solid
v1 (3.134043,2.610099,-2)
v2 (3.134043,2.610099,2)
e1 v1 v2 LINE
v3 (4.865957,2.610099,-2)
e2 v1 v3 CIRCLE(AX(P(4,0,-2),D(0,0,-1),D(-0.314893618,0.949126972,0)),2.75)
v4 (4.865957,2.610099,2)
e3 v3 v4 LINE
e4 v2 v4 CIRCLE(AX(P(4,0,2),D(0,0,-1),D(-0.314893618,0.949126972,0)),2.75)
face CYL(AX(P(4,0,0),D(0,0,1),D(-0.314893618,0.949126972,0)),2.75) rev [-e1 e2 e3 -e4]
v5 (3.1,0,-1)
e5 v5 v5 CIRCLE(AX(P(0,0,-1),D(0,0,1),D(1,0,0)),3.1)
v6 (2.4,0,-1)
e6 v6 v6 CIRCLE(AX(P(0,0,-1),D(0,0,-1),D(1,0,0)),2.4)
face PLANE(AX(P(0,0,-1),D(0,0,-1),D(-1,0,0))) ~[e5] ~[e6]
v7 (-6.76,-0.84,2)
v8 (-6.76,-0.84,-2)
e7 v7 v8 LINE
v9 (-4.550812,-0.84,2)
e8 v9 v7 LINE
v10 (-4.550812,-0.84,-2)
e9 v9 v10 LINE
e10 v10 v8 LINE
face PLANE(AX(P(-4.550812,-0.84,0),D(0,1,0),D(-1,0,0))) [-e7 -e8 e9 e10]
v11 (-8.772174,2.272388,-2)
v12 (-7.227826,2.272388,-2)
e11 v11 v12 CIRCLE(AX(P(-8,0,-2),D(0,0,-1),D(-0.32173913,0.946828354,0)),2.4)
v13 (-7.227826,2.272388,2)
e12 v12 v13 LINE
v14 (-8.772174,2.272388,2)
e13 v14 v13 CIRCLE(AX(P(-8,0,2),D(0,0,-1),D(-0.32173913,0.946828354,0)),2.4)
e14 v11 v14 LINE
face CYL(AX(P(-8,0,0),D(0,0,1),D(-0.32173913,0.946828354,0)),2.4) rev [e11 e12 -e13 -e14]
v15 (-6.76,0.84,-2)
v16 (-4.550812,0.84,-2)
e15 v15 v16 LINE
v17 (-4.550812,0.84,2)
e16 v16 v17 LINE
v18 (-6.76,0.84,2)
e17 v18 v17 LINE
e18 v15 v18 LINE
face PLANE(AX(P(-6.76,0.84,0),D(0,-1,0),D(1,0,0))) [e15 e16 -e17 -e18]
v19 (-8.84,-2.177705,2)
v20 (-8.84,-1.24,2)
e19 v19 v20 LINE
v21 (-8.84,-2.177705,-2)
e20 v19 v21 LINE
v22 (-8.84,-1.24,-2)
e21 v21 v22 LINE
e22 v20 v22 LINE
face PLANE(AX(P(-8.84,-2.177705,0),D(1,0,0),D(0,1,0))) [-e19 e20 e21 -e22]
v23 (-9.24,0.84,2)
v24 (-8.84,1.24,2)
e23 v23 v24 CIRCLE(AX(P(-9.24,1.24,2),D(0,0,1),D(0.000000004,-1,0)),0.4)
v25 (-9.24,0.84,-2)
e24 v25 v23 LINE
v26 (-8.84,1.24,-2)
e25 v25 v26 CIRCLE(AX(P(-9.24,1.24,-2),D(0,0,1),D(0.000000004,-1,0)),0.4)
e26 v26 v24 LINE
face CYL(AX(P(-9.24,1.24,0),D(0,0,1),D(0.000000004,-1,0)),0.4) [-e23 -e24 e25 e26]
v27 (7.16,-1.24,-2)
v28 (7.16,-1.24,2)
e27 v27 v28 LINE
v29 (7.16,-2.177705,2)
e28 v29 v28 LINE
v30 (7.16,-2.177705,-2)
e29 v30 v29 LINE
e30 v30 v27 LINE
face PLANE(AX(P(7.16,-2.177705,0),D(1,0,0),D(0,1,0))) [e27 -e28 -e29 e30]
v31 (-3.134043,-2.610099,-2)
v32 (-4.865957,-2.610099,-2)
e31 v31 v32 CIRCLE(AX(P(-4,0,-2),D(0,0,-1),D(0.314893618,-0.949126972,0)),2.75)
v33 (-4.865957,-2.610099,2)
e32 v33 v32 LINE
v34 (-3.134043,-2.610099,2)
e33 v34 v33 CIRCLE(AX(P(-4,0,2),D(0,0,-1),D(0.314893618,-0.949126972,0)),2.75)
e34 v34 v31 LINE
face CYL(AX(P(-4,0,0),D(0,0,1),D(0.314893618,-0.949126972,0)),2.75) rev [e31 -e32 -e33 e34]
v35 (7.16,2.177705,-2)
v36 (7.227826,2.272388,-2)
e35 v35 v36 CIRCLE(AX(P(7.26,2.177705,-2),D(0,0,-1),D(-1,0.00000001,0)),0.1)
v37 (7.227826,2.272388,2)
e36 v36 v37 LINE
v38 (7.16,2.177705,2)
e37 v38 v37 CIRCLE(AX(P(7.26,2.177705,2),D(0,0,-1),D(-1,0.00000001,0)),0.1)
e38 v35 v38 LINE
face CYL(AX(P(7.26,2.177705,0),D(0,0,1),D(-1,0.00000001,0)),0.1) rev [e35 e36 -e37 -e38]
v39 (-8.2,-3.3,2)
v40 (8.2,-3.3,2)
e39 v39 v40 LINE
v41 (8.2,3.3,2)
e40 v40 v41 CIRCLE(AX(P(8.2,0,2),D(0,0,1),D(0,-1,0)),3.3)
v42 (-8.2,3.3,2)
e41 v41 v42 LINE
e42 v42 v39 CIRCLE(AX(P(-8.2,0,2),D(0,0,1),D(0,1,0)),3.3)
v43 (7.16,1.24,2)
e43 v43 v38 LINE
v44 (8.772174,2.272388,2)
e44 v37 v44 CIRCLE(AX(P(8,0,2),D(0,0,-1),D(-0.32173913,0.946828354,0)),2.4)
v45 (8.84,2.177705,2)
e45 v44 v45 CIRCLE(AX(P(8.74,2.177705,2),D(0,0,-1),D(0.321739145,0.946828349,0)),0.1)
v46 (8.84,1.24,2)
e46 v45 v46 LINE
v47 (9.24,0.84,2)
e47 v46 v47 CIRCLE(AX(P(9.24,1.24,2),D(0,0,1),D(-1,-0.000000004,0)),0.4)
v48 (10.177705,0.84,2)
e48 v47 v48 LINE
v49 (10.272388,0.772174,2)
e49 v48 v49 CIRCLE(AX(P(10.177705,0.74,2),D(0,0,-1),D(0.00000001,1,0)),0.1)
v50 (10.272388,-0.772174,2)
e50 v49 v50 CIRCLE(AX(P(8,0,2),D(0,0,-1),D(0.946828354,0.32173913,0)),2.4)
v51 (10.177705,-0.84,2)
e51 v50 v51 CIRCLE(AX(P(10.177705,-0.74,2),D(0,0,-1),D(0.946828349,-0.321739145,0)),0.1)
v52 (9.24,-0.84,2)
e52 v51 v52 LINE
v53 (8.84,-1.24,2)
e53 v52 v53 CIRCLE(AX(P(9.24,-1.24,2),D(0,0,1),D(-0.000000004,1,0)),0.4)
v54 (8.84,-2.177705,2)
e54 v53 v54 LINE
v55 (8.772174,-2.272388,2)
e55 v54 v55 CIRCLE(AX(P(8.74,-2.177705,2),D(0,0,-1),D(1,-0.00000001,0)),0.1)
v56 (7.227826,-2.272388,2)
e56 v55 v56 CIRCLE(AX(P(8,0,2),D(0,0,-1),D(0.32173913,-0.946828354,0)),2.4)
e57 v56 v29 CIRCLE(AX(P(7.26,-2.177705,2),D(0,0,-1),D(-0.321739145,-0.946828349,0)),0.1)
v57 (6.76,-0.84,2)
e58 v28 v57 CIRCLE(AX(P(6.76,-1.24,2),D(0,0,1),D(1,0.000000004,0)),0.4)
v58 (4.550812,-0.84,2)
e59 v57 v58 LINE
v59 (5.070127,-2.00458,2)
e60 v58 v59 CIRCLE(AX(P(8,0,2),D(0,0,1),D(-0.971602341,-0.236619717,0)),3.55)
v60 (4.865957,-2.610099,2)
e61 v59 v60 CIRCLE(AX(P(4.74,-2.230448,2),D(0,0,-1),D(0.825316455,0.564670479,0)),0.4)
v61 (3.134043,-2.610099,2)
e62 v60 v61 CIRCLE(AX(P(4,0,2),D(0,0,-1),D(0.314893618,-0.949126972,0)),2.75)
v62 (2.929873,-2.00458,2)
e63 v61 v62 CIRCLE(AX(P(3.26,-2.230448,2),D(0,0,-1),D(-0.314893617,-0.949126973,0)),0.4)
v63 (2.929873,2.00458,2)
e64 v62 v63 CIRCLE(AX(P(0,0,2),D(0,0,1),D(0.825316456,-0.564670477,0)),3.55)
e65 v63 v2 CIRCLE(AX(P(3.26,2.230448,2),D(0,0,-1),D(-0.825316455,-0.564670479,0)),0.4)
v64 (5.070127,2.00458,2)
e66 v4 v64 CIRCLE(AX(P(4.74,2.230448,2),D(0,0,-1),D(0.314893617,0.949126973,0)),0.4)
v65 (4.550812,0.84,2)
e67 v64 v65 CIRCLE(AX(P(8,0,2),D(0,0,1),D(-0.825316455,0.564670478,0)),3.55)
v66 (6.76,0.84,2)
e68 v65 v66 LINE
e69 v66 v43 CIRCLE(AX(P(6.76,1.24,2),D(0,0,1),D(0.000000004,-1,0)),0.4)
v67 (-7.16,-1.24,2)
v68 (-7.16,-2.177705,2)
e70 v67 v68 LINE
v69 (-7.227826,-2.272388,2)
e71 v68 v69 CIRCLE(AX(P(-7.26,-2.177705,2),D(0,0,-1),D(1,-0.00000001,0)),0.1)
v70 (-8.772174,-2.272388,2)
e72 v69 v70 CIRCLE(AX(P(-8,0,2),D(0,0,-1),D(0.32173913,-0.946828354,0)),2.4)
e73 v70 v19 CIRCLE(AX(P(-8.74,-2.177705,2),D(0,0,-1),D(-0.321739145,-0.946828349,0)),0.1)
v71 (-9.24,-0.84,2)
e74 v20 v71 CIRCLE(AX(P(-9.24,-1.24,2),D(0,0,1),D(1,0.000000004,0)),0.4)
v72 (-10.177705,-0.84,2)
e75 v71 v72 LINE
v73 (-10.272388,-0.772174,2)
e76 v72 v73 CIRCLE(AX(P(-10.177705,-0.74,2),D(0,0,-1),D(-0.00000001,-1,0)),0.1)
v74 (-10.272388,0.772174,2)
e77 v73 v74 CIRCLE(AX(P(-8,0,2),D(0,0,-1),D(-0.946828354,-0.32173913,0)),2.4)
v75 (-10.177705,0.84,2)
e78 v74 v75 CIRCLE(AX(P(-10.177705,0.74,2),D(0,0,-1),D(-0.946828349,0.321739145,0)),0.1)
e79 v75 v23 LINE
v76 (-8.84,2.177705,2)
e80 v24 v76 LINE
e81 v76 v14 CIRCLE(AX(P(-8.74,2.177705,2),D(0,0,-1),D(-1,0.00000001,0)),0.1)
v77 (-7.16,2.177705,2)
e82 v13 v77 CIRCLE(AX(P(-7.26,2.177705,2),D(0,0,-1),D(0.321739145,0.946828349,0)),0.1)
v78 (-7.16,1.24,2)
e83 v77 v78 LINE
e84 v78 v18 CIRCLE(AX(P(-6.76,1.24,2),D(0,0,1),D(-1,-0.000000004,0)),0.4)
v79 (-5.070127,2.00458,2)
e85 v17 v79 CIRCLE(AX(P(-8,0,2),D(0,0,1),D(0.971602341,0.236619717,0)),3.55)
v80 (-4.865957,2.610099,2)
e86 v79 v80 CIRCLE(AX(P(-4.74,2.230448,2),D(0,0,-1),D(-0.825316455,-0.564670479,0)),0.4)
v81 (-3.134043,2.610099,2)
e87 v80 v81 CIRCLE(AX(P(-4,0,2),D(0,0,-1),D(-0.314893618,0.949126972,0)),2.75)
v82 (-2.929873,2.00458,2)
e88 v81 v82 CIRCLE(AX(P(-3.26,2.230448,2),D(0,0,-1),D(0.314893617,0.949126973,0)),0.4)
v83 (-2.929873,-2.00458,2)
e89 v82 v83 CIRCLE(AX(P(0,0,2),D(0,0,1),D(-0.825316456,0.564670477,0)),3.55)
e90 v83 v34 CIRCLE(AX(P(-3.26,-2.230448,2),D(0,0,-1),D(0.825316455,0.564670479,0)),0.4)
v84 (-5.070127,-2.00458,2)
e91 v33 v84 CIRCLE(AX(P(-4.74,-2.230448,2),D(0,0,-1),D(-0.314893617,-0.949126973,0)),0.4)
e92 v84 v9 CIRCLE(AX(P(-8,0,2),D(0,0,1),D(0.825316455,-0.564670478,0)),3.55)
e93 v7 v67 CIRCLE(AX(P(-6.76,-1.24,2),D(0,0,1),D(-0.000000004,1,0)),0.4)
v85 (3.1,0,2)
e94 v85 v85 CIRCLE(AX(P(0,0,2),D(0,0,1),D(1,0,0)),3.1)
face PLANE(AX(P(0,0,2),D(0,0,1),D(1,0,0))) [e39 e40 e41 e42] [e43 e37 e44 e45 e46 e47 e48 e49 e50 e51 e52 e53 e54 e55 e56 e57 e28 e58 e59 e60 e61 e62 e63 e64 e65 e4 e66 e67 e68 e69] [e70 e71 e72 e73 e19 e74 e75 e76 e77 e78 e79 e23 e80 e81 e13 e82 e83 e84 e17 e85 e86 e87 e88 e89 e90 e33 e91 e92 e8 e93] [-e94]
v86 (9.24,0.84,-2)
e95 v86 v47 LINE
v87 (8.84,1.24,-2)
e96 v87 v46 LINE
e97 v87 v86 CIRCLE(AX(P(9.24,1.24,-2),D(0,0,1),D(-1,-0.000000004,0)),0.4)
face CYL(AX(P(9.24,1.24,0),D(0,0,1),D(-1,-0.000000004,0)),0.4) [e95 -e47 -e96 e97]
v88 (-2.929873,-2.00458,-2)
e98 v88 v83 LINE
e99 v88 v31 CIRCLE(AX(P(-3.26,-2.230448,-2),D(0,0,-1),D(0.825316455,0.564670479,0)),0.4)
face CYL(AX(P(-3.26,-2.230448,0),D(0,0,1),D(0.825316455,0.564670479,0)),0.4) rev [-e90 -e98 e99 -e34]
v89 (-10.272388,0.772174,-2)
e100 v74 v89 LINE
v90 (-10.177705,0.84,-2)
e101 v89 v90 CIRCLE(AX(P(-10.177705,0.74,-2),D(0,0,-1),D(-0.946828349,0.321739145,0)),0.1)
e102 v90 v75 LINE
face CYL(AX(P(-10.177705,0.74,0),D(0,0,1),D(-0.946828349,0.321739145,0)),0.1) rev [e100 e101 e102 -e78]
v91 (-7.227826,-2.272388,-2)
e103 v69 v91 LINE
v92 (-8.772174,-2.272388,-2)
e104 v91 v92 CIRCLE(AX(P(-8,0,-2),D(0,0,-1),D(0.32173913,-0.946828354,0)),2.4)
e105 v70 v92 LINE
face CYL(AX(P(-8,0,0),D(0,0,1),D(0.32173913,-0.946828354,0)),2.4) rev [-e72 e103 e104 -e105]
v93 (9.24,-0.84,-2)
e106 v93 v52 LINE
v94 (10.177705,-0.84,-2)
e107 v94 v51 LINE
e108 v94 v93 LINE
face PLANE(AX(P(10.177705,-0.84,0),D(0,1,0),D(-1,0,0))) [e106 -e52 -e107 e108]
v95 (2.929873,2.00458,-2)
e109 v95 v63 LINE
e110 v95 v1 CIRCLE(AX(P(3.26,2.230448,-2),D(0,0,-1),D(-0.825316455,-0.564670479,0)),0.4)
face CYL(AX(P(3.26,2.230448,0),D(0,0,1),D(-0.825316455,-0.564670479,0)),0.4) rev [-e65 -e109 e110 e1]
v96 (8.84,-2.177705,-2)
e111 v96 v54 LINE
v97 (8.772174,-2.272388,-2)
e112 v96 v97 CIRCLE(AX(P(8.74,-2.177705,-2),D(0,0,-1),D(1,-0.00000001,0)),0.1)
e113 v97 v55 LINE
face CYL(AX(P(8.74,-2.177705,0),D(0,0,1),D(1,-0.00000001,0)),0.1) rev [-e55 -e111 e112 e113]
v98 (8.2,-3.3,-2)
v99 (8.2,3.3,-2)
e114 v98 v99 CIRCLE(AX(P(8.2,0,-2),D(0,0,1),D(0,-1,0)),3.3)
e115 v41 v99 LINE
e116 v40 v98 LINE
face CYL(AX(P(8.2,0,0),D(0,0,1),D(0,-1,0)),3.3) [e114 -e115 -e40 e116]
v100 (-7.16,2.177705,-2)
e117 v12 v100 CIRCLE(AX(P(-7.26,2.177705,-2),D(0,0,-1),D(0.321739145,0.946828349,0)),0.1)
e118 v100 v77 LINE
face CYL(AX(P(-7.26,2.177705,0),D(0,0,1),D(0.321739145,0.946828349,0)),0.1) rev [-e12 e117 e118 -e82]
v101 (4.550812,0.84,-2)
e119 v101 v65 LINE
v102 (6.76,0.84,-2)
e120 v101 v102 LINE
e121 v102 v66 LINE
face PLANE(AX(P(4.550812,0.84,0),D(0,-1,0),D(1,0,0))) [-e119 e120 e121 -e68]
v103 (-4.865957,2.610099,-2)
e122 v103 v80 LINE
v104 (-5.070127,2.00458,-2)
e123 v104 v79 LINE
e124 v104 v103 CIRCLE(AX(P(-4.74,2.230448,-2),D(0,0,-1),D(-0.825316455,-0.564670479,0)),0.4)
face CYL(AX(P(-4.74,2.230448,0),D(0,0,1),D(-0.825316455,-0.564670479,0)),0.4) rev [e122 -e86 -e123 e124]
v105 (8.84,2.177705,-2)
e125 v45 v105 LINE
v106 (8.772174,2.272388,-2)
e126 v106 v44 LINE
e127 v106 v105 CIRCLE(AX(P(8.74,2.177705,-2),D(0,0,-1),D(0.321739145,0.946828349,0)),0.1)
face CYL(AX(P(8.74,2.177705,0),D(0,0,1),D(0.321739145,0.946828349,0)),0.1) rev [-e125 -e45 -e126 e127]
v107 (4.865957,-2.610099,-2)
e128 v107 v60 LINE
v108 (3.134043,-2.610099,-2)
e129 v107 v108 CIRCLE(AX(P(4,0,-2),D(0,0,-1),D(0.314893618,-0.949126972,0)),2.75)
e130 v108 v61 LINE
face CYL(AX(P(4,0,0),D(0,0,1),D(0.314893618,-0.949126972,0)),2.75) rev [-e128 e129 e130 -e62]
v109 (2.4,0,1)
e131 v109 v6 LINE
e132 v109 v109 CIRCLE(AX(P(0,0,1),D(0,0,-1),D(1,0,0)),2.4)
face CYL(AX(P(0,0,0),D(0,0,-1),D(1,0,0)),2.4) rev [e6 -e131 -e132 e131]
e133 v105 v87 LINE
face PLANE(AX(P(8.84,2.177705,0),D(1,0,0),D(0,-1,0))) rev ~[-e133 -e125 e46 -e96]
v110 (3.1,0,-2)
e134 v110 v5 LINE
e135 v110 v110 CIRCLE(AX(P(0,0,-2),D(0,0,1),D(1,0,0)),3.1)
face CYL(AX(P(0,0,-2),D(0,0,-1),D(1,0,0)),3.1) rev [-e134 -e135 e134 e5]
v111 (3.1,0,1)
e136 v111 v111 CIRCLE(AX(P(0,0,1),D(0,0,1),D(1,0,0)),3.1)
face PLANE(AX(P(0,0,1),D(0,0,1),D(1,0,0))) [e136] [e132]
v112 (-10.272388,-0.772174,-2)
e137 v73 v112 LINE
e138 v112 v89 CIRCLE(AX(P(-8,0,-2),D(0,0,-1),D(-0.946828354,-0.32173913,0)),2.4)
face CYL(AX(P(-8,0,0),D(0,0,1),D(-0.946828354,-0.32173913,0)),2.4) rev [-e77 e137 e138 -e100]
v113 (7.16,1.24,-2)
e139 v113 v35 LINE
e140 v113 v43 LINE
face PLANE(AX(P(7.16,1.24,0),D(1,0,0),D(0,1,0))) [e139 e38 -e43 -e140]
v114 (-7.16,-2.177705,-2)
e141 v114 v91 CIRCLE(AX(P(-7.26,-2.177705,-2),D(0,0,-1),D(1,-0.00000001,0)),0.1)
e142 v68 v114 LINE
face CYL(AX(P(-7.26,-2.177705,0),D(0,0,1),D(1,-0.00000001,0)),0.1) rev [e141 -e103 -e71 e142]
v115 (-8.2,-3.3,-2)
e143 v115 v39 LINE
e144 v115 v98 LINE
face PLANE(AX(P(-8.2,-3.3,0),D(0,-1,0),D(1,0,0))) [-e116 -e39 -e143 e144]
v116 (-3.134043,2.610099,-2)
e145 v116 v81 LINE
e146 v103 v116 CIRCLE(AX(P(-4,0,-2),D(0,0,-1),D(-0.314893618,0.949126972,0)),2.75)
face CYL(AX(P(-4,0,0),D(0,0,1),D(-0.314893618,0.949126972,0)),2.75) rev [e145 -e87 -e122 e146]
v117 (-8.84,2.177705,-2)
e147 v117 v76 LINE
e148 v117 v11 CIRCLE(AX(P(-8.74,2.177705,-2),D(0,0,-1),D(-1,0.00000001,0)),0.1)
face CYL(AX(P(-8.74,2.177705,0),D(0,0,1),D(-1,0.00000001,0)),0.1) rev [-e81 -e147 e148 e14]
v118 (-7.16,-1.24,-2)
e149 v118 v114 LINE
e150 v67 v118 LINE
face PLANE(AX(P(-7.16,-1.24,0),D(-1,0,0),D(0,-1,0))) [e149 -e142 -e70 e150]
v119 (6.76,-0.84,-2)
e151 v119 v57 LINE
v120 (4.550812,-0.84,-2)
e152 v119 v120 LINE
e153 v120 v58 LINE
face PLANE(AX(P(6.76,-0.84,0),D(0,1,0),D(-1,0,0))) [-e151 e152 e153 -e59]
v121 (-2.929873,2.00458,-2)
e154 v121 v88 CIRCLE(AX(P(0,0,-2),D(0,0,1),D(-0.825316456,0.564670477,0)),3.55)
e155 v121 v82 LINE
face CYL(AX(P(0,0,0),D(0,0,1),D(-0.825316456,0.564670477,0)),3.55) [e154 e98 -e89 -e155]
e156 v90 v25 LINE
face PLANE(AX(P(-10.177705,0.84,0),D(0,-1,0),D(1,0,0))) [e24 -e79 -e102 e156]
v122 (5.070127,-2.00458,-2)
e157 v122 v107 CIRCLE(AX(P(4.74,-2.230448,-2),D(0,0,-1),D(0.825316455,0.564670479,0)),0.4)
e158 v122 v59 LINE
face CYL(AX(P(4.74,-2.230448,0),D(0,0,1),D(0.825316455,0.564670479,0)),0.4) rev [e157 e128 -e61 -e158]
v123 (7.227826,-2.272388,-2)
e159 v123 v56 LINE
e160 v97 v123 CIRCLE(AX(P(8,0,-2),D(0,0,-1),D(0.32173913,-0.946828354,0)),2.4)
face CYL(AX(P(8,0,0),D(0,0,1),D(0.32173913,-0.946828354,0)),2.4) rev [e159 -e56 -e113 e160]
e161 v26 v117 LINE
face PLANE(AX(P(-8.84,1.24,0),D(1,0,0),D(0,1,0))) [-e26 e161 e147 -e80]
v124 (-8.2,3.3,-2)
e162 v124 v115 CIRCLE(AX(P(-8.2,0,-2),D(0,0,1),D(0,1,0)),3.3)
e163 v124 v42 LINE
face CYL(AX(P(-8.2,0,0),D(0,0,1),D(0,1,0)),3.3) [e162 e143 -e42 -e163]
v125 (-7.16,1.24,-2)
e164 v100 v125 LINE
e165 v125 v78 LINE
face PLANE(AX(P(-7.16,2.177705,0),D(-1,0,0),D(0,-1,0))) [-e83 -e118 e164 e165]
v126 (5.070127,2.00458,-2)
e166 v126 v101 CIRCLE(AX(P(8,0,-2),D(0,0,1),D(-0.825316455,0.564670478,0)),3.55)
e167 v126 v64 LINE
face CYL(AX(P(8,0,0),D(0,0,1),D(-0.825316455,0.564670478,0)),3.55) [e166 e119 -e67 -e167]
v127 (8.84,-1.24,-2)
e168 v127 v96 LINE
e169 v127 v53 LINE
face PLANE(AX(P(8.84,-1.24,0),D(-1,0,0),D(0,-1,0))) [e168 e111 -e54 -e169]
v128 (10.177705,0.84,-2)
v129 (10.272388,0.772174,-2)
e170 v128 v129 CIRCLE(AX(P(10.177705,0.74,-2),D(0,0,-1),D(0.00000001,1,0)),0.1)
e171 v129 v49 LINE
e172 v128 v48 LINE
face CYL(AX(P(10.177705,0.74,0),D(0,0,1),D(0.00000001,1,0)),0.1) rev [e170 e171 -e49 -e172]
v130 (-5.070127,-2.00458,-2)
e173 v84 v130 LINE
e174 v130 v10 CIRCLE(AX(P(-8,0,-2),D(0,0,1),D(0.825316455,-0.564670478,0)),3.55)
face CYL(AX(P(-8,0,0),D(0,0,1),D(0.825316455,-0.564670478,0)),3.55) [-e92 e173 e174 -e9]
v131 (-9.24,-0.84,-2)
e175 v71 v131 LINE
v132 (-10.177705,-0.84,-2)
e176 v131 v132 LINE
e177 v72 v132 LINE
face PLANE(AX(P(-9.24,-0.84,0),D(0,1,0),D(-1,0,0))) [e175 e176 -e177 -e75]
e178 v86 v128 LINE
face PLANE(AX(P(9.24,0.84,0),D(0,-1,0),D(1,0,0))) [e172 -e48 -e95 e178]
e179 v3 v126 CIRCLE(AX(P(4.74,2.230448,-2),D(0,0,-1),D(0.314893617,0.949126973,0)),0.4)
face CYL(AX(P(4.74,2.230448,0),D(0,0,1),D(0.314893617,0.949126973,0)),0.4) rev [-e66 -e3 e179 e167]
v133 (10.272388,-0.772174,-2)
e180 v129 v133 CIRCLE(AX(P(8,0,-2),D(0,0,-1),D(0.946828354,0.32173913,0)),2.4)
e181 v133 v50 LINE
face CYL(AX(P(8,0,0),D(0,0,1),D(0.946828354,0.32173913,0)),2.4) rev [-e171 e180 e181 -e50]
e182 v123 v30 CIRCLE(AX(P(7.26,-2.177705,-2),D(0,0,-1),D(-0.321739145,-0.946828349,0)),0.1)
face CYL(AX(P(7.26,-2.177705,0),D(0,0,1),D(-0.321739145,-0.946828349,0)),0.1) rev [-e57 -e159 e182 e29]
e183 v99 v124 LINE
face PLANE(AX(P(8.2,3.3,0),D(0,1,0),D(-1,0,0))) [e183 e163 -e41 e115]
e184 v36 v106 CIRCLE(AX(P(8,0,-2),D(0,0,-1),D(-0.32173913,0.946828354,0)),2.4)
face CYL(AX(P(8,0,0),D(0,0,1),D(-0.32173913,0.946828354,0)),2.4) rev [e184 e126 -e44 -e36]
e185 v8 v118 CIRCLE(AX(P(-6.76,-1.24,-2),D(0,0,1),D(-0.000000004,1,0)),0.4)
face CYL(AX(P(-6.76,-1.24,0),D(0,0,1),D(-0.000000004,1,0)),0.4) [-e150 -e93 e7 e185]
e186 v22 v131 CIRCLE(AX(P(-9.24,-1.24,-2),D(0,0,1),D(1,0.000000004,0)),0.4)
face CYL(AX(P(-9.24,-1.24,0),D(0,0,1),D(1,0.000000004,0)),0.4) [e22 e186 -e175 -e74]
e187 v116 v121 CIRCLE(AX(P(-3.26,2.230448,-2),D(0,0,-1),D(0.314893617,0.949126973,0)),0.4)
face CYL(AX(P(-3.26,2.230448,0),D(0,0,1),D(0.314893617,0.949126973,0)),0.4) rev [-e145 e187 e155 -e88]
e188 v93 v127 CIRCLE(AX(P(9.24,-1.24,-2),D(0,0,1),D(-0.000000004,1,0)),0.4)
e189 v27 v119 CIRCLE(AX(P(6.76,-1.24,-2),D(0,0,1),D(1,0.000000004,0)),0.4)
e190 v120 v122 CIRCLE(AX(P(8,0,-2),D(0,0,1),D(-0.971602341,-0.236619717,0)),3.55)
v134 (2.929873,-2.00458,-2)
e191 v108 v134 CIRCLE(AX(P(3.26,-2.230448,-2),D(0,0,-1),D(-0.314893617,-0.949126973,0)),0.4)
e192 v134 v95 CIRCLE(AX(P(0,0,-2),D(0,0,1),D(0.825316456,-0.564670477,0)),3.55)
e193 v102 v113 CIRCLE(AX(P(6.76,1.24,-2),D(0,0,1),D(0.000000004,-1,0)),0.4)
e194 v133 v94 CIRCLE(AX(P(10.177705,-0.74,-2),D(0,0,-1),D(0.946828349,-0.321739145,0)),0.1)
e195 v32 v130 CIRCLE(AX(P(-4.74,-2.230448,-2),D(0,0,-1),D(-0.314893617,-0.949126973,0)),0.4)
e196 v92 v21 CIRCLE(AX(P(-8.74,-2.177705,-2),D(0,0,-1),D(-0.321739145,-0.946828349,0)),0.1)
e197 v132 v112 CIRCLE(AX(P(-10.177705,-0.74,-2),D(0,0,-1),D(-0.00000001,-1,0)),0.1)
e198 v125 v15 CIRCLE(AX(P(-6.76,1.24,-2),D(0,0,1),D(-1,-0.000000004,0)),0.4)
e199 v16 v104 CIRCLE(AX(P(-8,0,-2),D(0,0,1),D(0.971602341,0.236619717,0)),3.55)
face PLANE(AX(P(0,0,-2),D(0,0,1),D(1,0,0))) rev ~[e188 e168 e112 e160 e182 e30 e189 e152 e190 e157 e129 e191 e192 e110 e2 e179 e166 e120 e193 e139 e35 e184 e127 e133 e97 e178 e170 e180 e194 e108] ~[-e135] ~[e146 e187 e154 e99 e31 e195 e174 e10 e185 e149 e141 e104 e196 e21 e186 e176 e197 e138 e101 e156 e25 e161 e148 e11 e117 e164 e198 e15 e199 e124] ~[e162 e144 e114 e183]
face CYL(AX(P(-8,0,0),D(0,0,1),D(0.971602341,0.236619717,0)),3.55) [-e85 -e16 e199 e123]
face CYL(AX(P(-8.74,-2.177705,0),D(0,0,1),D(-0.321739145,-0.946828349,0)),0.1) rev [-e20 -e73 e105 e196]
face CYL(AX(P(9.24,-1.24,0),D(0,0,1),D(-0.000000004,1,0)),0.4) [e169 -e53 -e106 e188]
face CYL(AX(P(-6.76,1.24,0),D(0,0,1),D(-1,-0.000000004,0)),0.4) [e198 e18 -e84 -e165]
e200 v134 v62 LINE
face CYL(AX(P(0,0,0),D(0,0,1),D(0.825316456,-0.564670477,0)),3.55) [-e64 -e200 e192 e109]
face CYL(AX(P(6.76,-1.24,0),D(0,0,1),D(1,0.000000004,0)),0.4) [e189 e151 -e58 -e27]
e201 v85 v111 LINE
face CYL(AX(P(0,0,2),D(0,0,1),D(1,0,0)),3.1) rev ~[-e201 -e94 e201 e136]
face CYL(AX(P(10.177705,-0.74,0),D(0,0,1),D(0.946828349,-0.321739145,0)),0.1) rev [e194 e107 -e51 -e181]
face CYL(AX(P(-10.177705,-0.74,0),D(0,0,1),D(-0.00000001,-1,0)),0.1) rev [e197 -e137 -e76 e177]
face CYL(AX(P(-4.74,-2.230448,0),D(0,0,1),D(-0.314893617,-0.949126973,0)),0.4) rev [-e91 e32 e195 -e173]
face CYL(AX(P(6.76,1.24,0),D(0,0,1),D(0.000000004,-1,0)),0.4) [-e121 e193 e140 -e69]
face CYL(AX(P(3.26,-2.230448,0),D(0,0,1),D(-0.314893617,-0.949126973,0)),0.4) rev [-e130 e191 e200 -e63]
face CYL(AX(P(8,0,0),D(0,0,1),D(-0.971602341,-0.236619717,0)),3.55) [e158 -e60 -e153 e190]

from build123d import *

# Parameters (mm, degrees)
SKETCH2_R           = 2.4
BOSS_EXTRUDE1_DEPTH = 2
SKETCH4_R           = 3.1
CUT_EXTRUDE1_DEPTH  = 1


with BuildPart() as part:
    # Sketch2 → Boss-Extrude1 (new, symmetric)
    with BuildSketch(Plane.XY):
        with BuildLine():
            Line((8.2, 3.3), (-8.2, 3.3))
            ThreePointArc((-8.2, 3.3), (-11.5, 0), (-8.2, -3.3))
            Line((-8.2, -3.3), (8.2, -3.3))
            ThreePointArc((8.2, -3.3), (11.5, 0), (8.2, 3.3))
        make_face()
        with BuildLine():
            Line((-10.177705214, 0.84), (-9.24, 0.84))
            ThreePointArc((-9.24, 0.84), (-8.957157288, 0.957157288), (-8.84, 1.24))
            Line((-8.84, 1.24), (-8.84, 2.177705214))
            ThreePointArc((-8.84, 2.177705214), (-8.821293884, 2.235940121), (-8.772173913, 2.27238805))
            ThreePointArc((-8.772173913, 2.27238805), (-8, 2.4), (-7.227826087, 2.27238805))
            ThreePointArc((-7.227826087, 2.27238805), (-7.178706116, 2.235940121), (-7.16, 2.177705214))
            Line((-7.16, 2.177705214), (-7.16, 1.24))
            ThreePointArc((-7.16, 1.24), (-7.042842712, 0.957157288), (-6.76, 0.84))
            Line((-6.76, 0.84), (-5.822294786, 0.84))
            Line((-5.822294786, 0.84), (-5.751800721, 0.84))
            Line((-5.751800721, 0.84), (-4.55081169, 0.84))
            ThreePointArc((-4.55081169, 0.84), (-4.757752494, 1.445797742), (-5.070126582, 2.004580194))
            ThreePointArc((-5.070126582, 2.004580194), (-5.119033599, 2.358251088), (-4.865957447, 2.610099174))
            ThreePointArc((-4.865957447, 2.610099174), (-4, 2.75), (-3.134042553, 2.610099174))
            ThreePointArc((-3.134042553, 2.610099174), (-2.880966401, 2.358251088), (-2.929873418, 2.004580194))
            ThreePointArc((-2.929873418, 2.004580194), (-3.55, 0), (-2.929873418, -2.004580194))
            ThreePointArc((-2.929873418, -2.004580194), (-2.880966401, -2.358251088), (-3.134042553, -2.610099174))
            ThreePointArc((-3.134042553, -2.610099174), (-4, -2.75), (-4.865957447, -2.610099174))
            ThreePointArc((-4.865957447, -2.610099174), (-5.119033599, -2.358251088), (-5.070126582, -2.004580194))
            ThreePointArc((-5.070126582, -2.004580194), (-4.757752494, -1.445797742), (-4.55081169, -0.84))
            Line((-4.55081169, -0.84), (-5.751800721, -0.84))
            Line((-5.751800721, -0.84), (-5.822294786, -0.84))
            Line((-5.822294786, -0.84), (-6.76, -0.84))
            ThreePointArc((-6.76, -0.84), (-7.042842712, -0.957157288), (-7.16, -1.24))
            Line((-7.16, -1.24), (-7.16, -2.177705214))
            ThreePointArc((-7.16, -2.177705214), (-7.178706116, -2.235940121), (-7.227826087, -2.27238805))
            ThreePointArc((-7.227826087, -2.27238805), (-8, -2.4), (-8.772173913, -2.27238805))
            ThreePointArc((-8.772173913, -2.27238805), (-8.821293884, -2.235940121), (-8.84, -2.177705214))
            Line((-8.84, -2.177705214), (-8.84, -1.24))
            ThreePointArc((-8.84, -1.24), (-8.957157288, -0.957157288), (-9.24, -0.84))
            Line((-9.24, -0.84), (-10.177705214, -0.84))
            ThreePointArc((-10.177705214, -0.84), (-10.235940121, -0.821293884), (-10.27238805, -0.772173913))
            ThreePointArc((-10.27238805, -0.772173913), (-10.4, 0), (-10.27238805, 0.772173913))
            ThreePointArc((-10.27238805, 0.772173913), (-10.235940121, 0.821293884), (-10.177705214, 0.84))
        make_face(mode=Mode.SUBTRACT)
        Circle(SKETCH2_R, mode=Mode.SUBTRACT)
        with BuildLine():
            Line((8.84, 2.177705214), (8.84, 1.24))
            ThreePointArc((8.84, 1.24), (8.957157288, 0.957157288), (9.24, 0.84))
            Line((9.24, 0.84), (10.177705214, 0.84))
            ThreePointArc((10.177705214, 0.84), (10.235940121, 0.821293884), (10.27238805, 0.772173913))
            ThreePointArc((10.27238805, 0.772173913), (10.4, 0), (10.27238805, -0.772173913))
            ThreePointArc((10.27238805, -0.772173913), (10.235940121, -0.821293884), (10.177705214, -0.84))
            Line((10.177705214, -0.84), (9.24, -0.84))
            ThreePointArc((9.24, -0.84), (8.957157288, -0.957157288), (8.84, -1.24))
            Line((8.84, -1.24), (8.84, -2.177705214))
            ThreePointArc((8.84, -2.177705214), (8.821293884, -2.235940121), (8.772173913, -2.27238805))
            ThreePointArc((8.772173913, -2.27238805), (8, -2.4), (7.227826087, -2.27238805))
            ThreePointArc((7.227826087, -2.27238805), (7.178706116, -2.235940121), (7.16, -2.177705214))
            Line((7.16, -2.177705214), (7.16, -1.24))
            ThreePointArc((7.16, -1.24), (7.042842712, -0.957157288), (6.76, -0.84))
            Line((6.76, -0.84), (5.822294786, -0.84))
            Line((5.822294786, -0.84), (5.751800721, -0.84))
            Line((5.751800721, -0.84), (4.55081169, -0.84))
            ThreePointArc((4.55081169, -0.84), (4.757752494, -1.445797742), (5.070126582, -2.004580194))
            ThreePointArc((5.070126582, -2.004580194), (5.119033599, -2.358251088), (4.865957447, -2.610099174))
            ThreePointArc((4.865957447, -2.610099174), (4, -2.75), (3.134042553, -2.610099174))
            ThreePointArc((3.134042553, -2.610099174), (2.880966401, -2.358251088), (2.929873418, -2.004580194))
            ThreePointArc((2.929873418, -2.004580194), (3.55, 0), (2.929873418, 2.004580194))
            ThreePointArc((2.929873418, 2.004580194), (2.880966401, 2.358251088), (3.134042553, 2.610099174))
            ThreePointArc((3.134042553, 2.610099174), (4, 2.75), (4.865957447, 2.610099174))
            ThreePointArc((4.865957447, 2.610099174), (5.119033599, 2.358251088), (5.070126582, 2.004580194))
            ThreePointArc((5.070126582, 2.004580194), (4.757752494, 1.445797742), (4.55081169, 0.84))
            Line((4.55081169, 0.84), (5.751800721, 0.84))
            Line((5.751800721, 0.84), (5.822294786, 0.84))
            Line((5.822294786, 0.84), (6.76, 0.84))
            ThreePointArc((6.76, 0.84), (7.042842712, 0.957157288), (7.16, 1.24))
            Line((7.16, 1.24), (7.16, 2.177705214))
            ThreePointArc((7.16, 2.177705214), (7.178706116, 2.235940121), (7.227826087, 2.27238805))
            ThreePointArc((7.227826087, 2.27238805), (8, 2.4), (8.772173913, 2.27238805))
            ThreePointArc((8.772173913, 2.27238805), (8.821293884, 2.235940121), (8.84, 2.177705214))
        make_face(mode=Mode.SUBTRACT)
    extrude(amount=BOSS_EXTRUDE1_DEPTH, both=True)

    # Sketch4 → Cut-Extrude1 (cut)
    with BuildSketch(Plane.XY.offset(2)):
        Circle(SKETCH4_R)
    cut_extrude1 = extrude(amount=-CUT_EXTRUDE1_DEPTH, mode=Mode.SUBTRACT)

    # Mirror1: Cut-Extrude1 across plane
    add(cut_extrude1.mirror(Plane.XY), mode=Mode.SUBTRACT)


solid = part.part
